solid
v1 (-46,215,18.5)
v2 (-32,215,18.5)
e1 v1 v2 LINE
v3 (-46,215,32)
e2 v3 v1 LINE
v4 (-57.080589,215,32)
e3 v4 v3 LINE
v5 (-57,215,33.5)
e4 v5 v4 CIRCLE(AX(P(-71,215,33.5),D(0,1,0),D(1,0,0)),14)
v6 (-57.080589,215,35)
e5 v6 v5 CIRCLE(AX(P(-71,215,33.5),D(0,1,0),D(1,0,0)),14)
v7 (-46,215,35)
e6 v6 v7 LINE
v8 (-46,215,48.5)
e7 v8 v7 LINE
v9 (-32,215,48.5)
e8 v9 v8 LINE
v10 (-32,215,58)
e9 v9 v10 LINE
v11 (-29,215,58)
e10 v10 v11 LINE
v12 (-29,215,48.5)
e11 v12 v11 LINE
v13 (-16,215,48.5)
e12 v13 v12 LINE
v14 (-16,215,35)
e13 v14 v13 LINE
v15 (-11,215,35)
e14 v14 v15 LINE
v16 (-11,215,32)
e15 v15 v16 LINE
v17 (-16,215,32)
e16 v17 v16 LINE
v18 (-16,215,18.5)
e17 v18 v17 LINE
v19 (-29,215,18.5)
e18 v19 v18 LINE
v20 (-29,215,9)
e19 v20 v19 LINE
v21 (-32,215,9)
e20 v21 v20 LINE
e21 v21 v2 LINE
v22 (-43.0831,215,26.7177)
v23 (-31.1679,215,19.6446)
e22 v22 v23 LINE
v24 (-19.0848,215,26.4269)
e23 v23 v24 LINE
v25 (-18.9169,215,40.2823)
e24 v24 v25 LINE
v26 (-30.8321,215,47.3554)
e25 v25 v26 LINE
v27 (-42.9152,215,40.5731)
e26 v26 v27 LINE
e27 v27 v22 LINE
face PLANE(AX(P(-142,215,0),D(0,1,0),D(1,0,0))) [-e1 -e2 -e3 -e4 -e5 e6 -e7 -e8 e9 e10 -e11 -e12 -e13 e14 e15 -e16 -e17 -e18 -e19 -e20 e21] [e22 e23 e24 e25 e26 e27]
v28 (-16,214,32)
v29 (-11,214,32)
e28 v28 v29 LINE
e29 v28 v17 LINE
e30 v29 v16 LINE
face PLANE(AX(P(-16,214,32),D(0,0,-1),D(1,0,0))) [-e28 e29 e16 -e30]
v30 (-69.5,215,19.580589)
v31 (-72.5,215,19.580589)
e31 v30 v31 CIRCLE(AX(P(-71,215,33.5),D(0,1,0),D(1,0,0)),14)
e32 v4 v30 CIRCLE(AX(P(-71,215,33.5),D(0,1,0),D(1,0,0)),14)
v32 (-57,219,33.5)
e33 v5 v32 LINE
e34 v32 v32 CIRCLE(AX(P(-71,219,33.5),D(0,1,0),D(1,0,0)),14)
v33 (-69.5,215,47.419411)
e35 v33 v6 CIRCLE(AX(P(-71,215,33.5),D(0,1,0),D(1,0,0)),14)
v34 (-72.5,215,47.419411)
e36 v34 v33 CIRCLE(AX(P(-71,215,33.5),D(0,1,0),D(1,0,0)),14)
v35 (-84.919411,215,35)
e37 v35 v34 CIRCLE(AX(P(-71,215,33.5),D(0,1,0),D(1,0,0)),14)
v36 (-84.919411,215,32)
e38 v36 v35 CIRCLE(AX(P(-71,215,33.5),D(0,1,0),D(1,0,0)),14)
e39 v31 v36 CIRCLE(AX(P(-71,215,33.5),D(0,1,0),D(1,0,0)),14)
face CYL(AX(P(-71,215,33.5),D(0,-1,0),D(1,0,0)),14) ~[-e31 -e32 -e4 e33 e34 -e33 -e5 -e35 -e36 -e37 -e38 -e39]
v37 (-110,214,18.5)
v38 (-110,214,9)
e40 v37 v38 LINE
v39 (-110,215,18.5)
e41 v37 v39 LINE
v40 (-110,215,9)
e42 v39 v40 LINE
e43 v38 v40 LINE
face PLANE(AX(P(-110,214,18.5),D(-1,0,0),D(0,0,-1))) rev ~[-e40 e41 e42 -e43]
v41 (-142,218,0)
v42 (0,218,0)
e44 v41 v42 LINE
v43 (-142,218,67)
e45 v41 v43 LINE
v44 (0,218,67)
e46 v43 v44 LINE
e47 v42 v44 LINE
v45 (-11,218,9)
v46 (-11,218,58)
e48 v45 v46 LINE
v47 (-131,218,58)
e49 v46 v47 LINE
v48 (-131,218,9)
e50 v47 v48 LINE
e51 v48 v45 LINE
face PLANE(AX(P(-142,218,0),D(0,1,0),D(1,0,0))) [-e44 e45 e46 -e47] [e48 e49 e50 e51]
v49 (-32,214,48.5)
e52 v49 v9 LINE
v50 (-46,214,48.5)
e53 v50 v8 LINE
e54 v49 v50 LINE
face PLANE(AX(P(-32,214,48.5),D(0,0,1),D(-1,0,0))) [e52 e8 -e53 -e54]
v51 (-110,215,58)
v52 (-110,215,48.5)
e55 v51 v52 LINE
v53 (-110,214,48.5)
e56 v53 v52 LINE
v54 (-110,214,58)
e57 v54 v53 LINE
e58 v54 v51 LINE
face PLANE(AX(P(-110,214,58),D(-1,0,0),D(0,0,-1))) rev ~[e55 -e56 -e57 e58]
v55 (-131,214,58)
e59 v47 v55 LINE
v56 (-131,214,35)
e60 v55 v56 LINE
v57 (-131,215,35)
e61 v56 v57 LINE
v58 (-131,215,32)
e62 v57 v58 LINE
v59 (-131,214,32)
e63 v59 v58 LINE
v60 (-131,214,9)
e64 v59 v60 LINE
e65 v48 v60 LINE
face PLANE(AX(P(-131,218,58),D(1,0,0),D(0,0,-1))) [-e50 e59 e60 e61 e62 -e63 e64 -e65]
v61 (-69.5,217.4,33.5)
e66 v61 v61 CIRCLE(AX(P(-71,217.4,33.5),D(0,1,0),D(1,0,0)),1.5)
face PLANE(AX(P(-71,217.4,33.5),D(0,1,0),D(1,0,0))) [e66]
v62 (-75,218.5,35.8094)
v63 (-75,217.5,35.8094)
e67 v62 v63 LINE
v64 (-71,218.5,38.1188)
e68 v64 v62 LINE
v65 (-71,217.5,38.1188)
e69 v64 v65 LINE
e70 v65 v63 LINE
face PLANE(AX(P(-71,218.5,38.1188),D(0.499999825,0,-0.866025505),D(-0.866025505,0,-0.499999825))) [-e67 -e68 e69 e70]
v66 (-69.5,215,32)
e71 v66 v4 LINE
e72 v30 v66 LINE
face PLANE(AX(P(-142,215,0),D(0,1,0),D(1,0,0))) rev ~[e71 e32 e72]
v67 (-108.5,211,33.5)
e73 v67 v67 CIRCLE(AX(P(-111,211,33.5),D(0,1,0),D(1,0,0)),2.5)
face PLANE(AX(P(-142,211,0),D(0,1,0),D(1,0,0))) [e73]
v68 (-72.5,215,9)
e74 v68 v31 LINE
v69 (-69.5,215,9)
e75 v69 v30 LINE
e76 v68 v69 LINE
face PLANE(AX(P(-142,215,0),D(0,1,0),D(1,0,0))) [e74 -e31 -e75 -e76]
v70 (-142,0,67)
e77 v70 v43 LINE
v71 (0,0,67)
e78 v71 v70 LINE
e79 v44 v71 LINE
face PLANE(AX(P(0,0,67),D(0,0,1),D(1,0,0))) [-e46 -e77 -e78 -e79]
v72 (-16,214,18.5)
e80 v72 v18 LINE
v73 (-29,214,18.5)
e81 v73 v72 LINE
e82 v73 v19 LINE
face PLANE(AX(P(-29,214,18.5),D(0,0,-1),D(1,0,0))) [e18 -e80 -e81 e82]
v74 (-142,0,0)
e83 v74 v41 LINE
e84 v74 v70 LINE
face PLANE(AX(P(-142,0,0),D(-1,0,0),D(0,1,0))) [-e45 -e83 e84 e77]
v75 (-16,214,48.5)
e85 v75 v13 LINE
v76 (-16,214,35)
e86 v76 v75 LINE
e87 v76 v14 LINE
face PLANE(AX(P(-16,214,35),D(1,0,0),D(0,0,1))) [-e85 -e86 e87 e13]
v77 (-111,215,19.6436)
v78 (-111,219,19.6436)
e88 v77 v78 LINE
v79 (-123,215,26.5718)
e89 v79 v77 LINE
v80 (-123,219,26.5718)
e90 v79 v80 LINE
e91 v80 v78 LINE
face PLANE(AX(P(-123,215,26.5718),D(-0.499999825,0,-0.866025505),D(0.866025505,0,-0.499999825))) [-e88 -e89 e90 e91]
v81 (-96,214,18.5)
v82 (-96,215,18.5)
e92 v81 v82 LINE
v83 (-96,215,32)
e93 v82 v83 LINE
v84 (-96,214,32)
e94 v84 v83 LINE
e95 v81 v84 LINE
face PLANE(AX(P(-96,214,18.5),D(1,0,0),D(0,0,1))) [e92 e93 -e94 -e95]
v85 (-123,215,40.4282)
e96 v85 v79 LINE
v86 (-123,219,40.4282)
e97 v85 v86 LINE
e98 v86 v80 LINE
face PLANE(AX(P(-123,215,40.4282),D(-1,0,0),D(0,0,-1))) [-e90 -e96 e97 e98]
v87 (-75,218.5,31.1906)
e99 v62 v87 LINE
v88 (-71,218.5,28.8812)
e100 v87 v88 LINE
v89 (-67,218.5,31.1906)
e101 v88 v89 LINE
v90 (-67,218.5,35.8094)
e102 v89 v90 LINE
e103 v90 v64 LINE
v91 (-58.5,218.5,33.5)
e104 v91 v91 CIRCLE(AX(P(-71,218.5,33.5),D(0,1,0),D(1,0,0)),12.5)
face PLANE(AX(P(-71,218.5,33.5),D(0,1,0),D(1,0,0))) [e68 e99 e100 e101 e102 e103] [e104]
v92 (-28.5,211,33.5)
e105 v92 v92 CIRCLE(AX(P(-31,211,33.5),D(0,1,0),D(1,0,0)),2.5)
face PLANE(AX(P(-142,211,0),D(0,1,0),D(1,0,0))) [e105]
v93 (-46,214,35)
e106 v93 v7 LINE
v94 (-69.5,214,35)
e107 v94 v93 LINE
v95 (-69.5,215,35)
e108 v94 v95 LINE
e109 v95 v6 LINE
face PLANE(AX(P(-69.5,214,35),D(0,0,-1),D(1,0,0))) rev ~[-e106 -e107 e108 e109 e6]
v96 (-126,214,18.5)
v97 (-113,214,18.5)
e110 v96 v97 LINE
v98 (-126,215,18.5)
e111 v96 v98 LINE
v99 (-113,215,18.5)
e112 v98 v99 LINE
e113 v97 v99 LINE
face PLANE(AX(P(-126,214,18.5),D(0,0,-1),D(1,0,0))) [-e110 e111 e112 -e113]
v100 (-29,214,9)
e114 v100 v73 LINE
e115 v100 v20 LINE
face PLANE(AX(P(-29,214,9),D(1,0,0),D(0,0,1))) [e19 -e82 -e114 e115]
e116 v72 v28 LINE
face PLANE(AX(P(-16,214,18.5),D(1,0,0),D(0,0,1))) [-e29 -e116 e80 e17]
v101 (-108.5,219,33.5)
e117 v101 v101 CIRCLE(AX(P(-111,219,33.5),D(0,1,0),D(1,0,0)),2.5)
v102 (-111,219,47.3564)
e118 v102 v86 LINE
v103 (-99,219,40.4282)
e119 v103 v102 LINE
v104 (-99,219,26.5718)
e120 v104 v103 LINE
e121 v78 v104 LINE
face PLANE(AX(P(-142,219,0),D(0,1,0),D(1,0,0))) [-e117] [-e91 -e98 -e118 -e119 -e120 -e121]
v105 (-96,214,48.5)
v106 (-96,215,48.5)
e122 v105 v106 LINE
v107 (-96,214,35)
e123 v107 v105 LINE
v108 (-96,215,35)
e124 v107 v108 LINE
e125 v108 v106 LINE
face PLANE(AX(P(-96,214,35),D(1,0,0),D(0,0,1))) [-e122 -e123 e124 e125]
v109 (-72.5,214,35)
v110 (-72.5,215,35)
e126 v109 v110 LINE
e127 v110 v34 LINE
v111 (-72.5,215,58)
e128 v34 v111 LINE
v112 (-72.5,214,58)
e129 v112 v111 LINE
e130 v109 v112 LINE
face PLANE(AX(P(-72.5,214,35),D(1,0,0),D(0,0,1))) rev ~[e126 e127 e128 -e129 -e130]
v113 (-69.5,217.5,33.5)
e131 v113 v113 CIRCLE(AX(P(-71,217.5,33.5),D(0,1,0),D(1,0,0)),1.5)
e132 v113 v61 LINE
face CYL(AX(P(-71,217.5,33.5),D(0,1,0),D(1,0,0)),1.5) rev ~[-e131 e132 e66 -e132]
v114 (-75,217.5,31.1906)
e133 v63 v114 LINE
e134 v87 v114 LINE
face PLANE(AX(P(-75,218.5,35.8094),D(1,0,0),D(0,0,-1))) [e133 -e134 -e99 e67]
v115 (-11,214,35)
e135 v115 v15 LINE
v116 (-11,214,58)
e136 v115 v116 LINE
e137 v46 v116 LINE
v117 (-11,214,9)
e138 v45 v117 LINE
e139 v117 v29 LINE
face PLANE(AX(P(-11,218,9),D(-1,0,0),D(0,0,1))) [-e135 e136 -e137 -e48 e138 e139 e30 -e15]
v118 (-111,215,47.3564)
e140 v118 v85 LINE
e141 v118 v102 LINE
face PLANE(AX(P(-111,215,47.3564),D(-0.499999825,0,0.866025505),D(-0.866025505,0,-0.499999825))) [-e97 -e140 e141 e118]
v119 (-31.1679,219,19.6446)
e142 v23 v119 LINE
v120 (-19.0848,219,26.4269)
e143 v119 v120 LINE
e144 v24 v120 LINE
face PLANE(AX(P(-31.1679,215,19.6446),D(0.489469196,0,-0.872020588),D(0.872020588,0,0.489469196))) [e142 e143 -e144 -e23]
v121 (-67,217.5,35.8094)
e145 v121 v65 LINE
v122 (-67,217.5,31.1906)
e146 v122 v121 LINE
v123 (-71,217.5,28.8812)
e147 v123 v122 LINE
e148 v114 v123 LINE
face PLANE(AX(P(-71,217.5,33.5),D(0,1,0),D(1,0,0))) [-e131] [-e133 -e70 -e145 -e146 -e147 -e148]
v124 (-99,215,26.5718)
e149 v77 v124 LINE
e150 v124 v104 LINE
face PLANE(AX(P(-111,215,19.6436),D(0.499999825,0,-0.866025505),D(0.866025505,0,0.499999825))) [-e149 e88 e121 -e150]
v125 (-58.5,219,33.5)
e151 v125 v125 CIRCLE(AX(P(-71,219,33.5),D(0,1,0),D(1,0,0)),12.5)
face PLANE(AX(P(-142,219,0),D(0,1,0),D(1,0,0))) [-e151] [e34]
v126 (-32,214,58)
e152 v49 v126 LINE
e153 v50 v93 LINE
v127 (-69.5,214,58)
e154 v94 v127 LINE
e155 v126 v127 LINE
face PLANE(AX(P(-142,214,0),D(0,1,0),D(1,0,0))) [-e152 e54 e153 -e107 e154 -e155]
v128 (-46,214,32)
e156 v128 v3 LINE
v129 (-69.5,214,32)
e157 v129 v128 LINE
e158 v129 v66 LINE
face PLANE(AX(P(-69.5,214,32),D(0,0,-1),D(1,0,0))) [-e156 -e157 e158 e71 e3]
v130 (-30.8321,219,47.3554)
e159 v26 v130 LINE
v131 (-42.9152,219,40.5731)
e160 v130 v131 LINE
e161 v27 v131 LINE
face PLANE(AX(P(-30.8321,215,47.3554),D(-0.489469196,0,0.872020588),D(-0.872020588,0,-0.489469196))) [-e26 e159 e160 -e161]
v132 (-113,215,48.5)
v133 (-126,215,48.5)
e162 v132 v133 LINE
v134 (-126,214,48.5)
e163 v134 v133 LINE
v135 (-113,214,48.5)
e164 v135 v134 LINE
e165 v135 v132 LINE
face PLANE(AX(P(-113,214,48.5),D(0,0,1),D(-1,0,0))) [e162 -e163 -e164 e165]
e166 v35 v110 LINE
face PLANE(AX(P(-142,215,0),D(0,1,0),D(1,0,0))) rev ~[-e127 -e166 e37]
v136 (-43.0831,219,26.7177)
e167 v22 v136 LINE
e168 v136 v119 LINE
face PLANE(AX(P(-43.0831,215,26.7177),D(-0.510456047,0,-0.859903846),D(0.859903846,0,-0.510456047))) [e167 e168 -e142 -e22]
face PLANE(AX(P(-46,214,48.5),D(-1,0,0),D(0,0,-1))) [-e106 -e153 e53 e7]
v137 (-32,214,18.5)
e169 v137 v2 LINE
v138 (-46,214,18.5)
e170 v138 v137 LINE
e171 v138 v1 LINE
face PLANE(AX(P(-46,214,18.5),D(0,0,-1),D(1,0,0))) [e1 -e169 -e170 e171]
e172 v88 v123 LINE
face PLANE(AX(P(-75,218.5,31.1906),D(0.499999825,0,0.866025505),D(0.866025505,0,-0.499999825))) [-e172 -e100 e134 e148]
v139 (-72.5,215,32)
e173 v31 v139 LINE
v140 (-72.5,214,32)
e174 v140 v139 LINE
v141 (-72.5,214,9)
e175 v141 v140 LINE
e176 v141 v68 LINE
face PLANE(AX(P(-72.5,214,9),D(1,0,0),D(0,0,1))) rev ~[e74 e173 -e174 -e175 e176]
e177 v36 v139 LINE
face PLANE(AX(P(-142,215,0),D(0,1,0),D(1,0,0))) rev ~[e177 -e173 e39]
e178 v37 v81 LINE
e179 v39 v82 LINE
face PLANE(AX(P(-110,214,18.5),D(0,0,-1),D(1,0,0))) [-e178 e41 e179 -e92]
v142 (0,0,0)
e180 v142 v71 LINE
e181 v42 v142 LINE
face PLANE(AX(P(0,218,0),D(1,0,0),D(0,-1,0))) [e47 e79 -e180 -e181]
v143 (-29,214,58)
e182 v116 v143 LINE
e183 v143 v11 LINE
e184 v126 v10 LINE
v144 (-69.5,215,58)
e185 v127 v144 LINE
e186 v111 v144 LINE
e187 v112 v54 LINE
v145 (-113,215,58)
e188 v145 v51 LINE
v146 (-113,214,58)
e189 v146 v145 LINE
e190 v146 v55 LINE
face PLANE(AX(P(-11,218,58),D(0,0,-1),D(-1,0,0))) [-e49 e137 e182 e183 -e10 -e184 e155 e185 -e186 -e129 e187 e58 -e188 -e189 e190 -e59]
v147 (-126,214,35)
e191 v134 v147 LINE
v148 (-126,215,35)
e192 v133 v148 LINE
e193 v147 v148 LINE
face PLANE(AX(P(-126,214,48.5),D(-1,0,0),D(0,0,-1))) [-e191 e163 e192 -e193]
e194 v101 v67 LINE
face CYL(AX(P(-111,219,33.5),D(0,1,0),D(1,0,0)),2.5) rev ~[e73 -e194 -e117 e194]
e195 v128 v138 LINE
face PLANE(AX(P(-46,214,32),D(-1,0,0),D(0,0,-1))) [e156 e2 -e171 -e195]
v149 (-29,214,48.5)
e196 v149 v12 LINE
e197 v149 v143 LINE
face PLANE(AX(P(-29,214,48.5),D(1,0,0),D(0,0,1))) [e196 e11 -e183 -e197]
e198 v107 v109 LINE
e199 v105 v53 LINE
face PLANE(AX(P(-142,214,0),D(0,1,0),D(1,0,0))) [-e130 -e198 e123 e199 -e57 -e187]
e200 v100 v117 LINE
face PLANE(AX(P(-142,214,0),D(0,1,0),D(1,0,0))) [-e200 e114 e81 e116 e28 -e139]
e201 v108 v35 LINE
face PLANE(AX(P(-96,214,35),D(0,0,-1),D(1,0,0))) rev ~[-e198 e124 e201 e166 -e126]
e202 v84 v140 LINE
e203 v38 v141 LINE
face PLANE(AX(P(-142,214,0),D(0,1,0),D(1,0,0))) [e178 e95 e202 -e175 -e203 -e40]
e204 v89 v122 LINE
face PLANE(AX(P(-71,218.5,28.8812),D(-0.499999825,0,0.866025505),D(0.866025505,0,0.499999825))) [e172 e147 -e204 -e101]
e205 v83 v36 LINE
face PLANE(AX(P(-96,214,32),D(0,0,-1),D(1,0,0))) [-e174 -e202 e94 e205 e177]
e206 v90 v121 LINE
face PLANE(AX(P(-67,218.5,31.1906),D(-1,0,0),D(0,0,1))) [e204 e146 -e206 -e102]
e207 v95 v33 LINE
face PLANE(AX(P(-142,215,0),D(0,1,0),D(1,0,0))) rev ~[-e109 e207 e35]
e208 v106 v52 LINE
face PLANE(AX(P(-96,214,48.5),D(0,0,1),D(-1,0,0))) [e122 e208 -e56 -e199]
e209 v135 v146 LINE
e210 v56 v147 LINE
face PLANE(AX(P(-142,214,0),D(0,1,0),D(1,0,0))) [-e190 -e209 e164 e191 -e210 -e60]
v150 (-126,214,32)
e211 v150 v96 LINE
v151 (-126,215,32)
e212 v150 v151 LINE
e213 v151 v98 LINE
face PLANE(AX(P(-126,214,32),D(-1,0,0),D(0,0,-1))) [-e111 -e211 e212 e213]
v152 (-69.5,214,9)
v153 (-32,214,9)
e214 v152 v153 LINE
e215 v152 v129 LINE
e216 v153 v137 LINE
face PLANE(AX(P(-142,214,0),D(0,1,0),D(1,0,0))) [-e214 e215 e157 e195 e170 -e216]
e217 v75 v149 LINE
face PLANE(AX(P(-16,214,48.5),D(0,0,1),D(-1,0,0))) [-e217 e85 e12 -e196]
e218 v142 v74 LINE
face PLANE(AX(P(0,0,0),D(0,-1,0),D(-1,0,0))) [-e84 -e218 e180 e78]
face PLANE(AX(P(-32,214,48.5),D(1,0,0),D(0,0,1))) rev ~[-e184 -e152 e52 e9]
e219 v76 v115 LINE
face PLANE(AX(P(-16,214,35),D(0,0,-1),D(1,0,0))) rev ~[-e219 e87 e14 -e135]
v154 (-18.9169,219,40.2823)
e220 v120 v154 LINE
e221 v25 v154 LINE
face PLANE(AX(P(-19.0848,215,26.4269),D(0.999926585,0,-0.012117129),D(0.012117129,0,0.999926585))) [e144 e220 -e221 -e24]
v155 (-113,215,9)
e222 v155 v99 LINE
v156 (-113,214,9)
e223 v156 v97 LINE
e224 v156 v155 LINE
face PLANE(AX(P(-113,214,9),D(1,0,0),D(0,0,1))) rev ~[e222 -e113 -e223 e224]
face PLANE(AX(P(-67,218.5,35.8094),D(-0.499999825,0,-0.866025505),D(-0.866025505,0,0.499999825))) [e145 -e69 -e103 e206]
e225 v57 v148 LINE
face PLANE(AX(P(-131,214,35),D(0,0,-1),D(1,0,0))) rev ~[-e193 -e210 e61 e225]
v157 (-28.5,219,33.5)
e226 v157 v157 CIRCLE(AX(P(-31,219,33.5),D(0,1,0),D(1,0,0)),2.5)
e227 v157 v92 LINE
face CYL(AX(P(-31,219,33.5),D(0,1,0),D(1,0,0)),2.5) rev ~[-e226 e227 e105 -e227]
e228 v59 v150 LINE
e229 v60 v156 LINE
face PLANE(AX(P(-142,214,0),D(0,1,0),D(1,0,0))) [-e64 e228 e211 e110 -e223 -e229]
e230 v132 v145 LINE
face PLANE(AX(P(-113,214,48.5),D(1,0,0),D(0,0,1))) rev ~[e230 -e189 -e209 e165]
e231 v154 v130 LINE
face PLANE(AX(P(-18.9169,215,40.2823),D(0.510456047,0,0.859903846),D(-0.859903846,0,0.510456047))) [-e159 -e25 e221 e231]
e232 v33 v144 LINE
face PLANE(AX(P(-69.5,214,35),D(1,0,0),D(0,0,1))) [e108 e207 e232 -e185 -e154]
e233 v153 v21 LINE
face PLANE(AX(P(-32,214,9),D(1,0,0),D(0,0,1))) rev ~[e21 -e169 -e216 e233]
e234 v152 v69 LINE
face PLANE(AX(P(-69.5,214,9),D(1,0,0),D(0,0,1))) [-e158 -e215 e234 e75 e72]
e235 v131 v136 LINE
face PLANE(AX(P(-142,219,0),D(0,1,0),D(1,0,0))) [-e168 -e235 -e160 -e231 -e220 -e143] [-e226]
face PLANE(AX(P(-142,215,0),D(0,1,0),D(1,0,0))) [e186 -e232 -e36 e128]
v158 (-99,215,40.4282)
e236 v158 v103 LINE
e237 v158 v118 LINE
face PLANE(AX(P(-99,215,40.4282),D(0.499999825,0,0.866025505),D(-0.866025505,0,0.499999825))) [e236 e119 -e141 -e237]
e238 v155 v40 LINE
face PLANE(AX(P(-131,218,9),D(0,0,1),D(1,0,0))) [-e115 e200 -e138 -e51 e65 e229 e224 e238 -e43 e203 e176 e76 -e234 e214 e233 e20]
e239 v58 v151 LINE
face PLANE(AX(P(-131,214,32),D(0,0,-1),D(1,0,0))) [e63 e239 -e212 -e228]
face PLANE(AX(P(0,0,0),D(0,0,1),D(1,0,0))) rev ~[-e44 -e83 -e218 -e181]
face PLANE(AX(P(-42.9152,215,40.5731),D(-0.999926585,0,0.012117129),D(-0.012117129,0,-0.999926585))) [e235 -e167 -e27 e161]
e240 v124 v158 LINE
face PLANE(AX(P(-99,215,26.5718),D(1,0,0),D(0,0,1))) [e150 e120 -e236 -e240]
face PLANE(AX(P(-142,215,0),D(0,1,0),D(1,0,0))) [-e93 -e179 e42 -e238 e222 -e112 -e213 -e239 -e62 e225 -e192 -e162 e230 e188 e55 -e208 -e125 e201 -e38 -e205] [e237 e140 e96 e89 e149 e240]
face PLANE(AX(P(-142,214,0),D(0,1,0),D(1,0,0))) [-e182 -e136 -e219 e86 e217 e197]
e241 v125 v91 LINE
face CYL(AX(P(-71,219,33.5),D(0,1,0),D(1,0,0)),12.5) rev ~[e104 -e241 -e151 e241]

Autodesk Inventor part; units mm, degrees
ref_plane "YZ Plane" through (0, 0, 0) normal (1, 0, 0) x (0, 1, 0)
ref_plane "XZ Plane" through (0, 0, 0) normal (0, 1, 0) x (-1, 0, 0)
ref_plane "XY Plane" through (0, 0, 0) normal (0, 0, 1) x (1, 0, 0)
sketch "Sketch1" plane through (0, 0, 0) normal (0, 0, 1) x (1, 0, 0)
  line L0 (0, 0) -> (-142, 0)
  line L1 (-142, 0) -> (-142, 218)
  line L2 (-142, 218) -> (0, 218)
  line L3 (0, 218) -> (0, 0)
  dimension "d0" = 142
  dimension "d1" = 218
extrude "Extrusion1" add sketch "Sketch1" along normal blind 67
sketch "Sketch6" plane through (-142, 218, 0) normal (0, 1, 0) x (1, 0, 0)
  line L0 (0, -67) -> (142, -67) projected
  line L1 (142, 0) -> (142, -67) projected
  line L2 (0, 0) -> (142, 0) projected
  line L3 (0, 0) -> (0, -67) projected
  line L4 (11, -9) -> (131, -9)
  line L5 (131, -9) -> (131, -58)
  line L6 (131, -58) -> (11, -58)
  line L7 (11, -58) -> (11, -9)
  dimension "d33" = 67
  dimension "d34" = 142
  dimension "d35" = 11
  dimension "d36" = 11
  dimension "d37" = 9
  dimension "d38" = 9
extrude "Extrusion5" cut sketch "Sketch6" against normal blind 4 contours L4 L5 L6 L7
sketch "Sketch7" plane through (-142, 214, 0) normal (0, 1, 0) x (1, 0, 0)
  line L0 (11, -58) -> (131, -58) projected
  line L1 (131, -58) -> (131, -9) projected
  line L2 (11, -9) -> (131, -9)
  line L3 (131, -9) -> (131, -58)
  line L4 (131, -58) -> (11, -58)
  line L5 (11, -58) -> (11, -9)
  line L6 (11, -9) -> (11, -32)
  line L7 (11, -32) -> (11, -35)
  line L8 (11, -35) -> (11, -58)
  line L9 (11, -32) -> (16, -32)
  line L10 (11, -35) -> (16, -35)
  line L11 (11, -9) -> (29, -9)
  line L12 (29, -9) -> (32, -9)
  line L13 (32, -9) -> (69.5, -9)
  line L14 (69.5, -9) -> (72.5, -9)
  line L15 (72.5, -9) -> (110, -9)
  line L16 (131, -9) -> (113, -9)
  line L17 (113, -9) -> (110, -9)
  line L18 (29, -9) -> (29, -18.5)
  line L19 (32, -18.5) -> (32, -9)
  line L20 (29, -9) -> (32, -9)
  line L21 (32, -58) -> (32, -48.5)
  line L22 (29, -48.5) -> (29, -58)
  line L23 (16, -48.5) -> (16, -35)
  line L24 (16, -32) -> (16, -18.5)
  line L25 (16, -18.5) -> (29, -18.5)
  line L26 (32, -18.5) -> (46, -18.5)
  line L27 (46, -18.5) -> (46, -32)
  line L28 (46, -35) -> (46, -48.5)
  line L29 (69.5, -9) -> (69.5, -32)
  line L30 (69.5, -35) -> (69.5, -58)
  line L31 (72.5, -9) -> (72.5, -32)
  line L32 (72.5, -35) -> (72.5, -58)
  line L33 (46, -32) -> (69.5, -32)
  line L34 (46, -35) -> (69.5, -35)
  line L35 (72.5, -35) -> (96, -35)
  line L36 (126, -35) -> (131, -35)
  line L37 (110, -9) -> (110, -18.5)
  line L38 (110, -48.5) -> (110, -58)
  line L39 (72.5, -32) -> (96, -32)
  line L40 (126, -32) -> (131, -32)
  line L41 (113, -9) -> (113, -18.5)
  line L42 (110, -58) -> (110, -48.5)
  line L43 (110, -18.5) -> (110, -9)
  line L44 (113, -48.5) -> (113, -58)
  line L45 (126, -48.5) -> (113, -48.5)
  line L46 (110, -48.5) -> (96, -48.5)
  line L47 (126, -18.5) -> (126, -32)
  line L48 (126, -35) -> (126, -48.5)
  line L49 (96, -48.5) -> (96, -35)
  line L50 (96, -32) -> (96, -18.5)
  line L51 (96, -18.5) -> (110, -18.5)
  line L52 (113, -18.5) -> (126, -18.5)
  line L53 (46, -48.5) -> (32, -48.5)
  line L54 (29, -48.5) -> (16, -48.5)
  line L55 (11, -32) -> (16, -32)
  line L56 (16, -18.5) -> (29, -18.5)
  line L57 (29, -9) -> (32, -9)
  line L58 (32, -18.5) -> (46, -18.5)
  line L59 (46, -32) -> (69.5, -32)
  line L60 (69.5, -9) -> (72.5, -9)
  line L61 (72.5, -32) -> (96, -32)
  line L62 (96, -18.5) -> (110, -18.5)
  line L63 (110, -9) -> (113, -9)
  line L64 (113, -18.5) -> (126, -18.5)
  line L65 (126, -32) -> (131, -32)
  line L66 (131, -35) -> (126, -35)
  line L67 (126, -48.5) -> (113, -48.5)
  line L68 (113, -58) -> (110, -58)
  line L69 (110, -48.5) -> (96, -48.5)
  line L70 (96, -35) -> (72.5, -35)
  line L71 (72.5, -58) -> (69.5, -58)
  line L72 (69.5, -35) -> (46, -35)
  line L73 (46, -48.5) -> (32, -48.5)
  line L74 (32, -58) -> (29, -58)
  line L75 (29, -48.5) -> (16, -48.5)
  line L76 (16, -35) -> (11, -35)
  point P0 (142, 0)
extrude "Extrusion6" add sketch "Sketch7" along normal blind 1 contours L22 L54 L23 L10 L5 L9 L24 L25 L18 L2 L19 L26 L27 L33 L29 L31 L39 L50 L51 L37 L41 L52 L47 L40 L1 L36 L48 L45 L44 L0 L38 L46 L49 L35 L32 L30 L34 L28 L53 L21
sketch "Sketch8" plane through (-142, 215, 0) normal (0, 1, 0) x (1, 0, 0)
  line L0 (126, -18.5) -> (126, -32) projected
  line L1 (113, -18.5) -> (126, -18.5) projected
  line L2 (32, -18.5) -> (46, -18.5) projected
  line L3 (16, -32) -> (16, -18.5) projected
  line L4 (31, -47.3564) -> (19, -40.4282)
  line L5 (19, -40.4282) -> (19, -26.5718)
  line L6 (19, -26.5718) -> (31, -19.6436)
  line L7 (31, -19.6436) -> (43, -26.5718)
  line L8 (43, -26.5718) -> (43, -40.4282)
  line L9 (43, -40.4282) -> (31, -47.3564)
  line L10 (110.8321, -19.6446) -> (122.9152, -26.4269)
  line L11 (122.9152, -26.4269) -> (123.0831, -40.2823)
  line L12 (123.0831, -40.2823) -> (111.1679, -47.3554)
  line L13 (111.1679, -47.3554) -> (99.0848, -40.5731)
  line L14 (99.0848, -40.5731) -> (98.9169, -26.7177)
  line L15 (98.9169, -26.7177) -> (110.8321, -19.6446)
  circle A0 centre (111, -33.5) radius 3.75
  circle A1 centre (31, -33.5) radius 3.75
  circle A2 centre (71, -33.5) radius 14
  point P0 (142, 0)
  dimension "d62" = 15
  dimension "d63" = 15
  dimension "d64" = 15
  dimension "d65" = 15
  dimension "d66" = 12
  dimension "d67" = 12
  dimension "d69" = 7.5
  dimension "d70" = 7.5
  dimension "d71" = 28
extrude "Extrusion7" add sketch "Sketch8" along normal blind 4 contours L4 L5 L6 L7 L8 L9 | L10 L11 L12 L13 L14 L15 | A0 | A1 | A2
sketch "Sketch9" plane through (-71, 219, 33.5) normal (0, 1, 0) x (1, 0, 0)
  circle A0 centre (0, 0) radius 14 projected
  circle A1 centre (0, 0) radius 12.5
  point P0 (71, 33.5)
  dimension "d74" = 25
extrude "Extrusion8" cut sketch "Sketch9" against normal blind 0.5 contours A1
sketch "Sketch10" plane through (-71, 218.5, 33.5) normal (0, 1, 0) x (1, 0, 0)
  circle A0 centre (0, 0) radius 12.5 projected
  line L0 (0, 4.6188) -> (4, 2.3094)
  line L1 (4, 2.3094) -> (4, -2.3094)
  line L2 (4, -2.3094) -> (0, -4.6188)
  line L3 (0, -4.6188) -> (-4, -2.3094)
  line L4 (-4, -2.3094) -> (-4, 2.3094)
  line L5 (-4, 2.3094) -> (0, 4.6188)
  circle A1 centre (0, 0) radius 1.5
  point P0 (71, 33.5)
  dimension "d77" = 4
  dimension "d78" = 3
extrude "Extrusion9" cut sketch "Sketch10" against normal blind 1 contours L0 L1 L2 L3 L4 L5 | A1
sketch "Sketch11" plane through (-71, 217.5, 33.5) normal (0, 1, 0) x (1, 0, 0)
  circle A0 centre (0, 0) radius 1.5
  point P0 (71, 33.5)
  dimension "d81" = 3
extrude "Extrusion10" cut sketch "Sketch11" against normal blind 0.1
sketch "Sketch13" plane through (-142, 219, 0) normal (0, 1, 0) x (1, 0, 0)
  circle A0 centre (31, -33.5) radius 2.5
  point P0 (142, 0)
  dimension "d84" = 5
extrude "Extrusion11" cut sketch "Sketch13" against normal blind 8
sketch "Sketch14" plane through (-142, 219, 0) normal (0, 1, 0) x (1, 0, 0)
  circle A0 centre (111, -33.5) radius 2.5
  point P0 (142, 0)
  dimension "d87" = 5
extrude "Extrusion12" cut sketch "Sketch14" against normal blind 8
equation "\"BendRadius\" = Thickness"
equation "\"BendReliefWidth\" = Thickness"
equation "\"BendReliefDepth\" = 0.5 * Thickness"
equation "\"CornerReliefSize\" = 4 * Thickness"
equation "\"MinimumRemnant\" = 2 * Thickness"
equation "\"TransitionRadius\" = BendRadius"
equation "\"JacobiRadiusSize\" = Thickness"
equation "\"GapSize\" = Thickness"
equation "\"Thickness\" = 0.5"
properties part number "CALB100AH final"
